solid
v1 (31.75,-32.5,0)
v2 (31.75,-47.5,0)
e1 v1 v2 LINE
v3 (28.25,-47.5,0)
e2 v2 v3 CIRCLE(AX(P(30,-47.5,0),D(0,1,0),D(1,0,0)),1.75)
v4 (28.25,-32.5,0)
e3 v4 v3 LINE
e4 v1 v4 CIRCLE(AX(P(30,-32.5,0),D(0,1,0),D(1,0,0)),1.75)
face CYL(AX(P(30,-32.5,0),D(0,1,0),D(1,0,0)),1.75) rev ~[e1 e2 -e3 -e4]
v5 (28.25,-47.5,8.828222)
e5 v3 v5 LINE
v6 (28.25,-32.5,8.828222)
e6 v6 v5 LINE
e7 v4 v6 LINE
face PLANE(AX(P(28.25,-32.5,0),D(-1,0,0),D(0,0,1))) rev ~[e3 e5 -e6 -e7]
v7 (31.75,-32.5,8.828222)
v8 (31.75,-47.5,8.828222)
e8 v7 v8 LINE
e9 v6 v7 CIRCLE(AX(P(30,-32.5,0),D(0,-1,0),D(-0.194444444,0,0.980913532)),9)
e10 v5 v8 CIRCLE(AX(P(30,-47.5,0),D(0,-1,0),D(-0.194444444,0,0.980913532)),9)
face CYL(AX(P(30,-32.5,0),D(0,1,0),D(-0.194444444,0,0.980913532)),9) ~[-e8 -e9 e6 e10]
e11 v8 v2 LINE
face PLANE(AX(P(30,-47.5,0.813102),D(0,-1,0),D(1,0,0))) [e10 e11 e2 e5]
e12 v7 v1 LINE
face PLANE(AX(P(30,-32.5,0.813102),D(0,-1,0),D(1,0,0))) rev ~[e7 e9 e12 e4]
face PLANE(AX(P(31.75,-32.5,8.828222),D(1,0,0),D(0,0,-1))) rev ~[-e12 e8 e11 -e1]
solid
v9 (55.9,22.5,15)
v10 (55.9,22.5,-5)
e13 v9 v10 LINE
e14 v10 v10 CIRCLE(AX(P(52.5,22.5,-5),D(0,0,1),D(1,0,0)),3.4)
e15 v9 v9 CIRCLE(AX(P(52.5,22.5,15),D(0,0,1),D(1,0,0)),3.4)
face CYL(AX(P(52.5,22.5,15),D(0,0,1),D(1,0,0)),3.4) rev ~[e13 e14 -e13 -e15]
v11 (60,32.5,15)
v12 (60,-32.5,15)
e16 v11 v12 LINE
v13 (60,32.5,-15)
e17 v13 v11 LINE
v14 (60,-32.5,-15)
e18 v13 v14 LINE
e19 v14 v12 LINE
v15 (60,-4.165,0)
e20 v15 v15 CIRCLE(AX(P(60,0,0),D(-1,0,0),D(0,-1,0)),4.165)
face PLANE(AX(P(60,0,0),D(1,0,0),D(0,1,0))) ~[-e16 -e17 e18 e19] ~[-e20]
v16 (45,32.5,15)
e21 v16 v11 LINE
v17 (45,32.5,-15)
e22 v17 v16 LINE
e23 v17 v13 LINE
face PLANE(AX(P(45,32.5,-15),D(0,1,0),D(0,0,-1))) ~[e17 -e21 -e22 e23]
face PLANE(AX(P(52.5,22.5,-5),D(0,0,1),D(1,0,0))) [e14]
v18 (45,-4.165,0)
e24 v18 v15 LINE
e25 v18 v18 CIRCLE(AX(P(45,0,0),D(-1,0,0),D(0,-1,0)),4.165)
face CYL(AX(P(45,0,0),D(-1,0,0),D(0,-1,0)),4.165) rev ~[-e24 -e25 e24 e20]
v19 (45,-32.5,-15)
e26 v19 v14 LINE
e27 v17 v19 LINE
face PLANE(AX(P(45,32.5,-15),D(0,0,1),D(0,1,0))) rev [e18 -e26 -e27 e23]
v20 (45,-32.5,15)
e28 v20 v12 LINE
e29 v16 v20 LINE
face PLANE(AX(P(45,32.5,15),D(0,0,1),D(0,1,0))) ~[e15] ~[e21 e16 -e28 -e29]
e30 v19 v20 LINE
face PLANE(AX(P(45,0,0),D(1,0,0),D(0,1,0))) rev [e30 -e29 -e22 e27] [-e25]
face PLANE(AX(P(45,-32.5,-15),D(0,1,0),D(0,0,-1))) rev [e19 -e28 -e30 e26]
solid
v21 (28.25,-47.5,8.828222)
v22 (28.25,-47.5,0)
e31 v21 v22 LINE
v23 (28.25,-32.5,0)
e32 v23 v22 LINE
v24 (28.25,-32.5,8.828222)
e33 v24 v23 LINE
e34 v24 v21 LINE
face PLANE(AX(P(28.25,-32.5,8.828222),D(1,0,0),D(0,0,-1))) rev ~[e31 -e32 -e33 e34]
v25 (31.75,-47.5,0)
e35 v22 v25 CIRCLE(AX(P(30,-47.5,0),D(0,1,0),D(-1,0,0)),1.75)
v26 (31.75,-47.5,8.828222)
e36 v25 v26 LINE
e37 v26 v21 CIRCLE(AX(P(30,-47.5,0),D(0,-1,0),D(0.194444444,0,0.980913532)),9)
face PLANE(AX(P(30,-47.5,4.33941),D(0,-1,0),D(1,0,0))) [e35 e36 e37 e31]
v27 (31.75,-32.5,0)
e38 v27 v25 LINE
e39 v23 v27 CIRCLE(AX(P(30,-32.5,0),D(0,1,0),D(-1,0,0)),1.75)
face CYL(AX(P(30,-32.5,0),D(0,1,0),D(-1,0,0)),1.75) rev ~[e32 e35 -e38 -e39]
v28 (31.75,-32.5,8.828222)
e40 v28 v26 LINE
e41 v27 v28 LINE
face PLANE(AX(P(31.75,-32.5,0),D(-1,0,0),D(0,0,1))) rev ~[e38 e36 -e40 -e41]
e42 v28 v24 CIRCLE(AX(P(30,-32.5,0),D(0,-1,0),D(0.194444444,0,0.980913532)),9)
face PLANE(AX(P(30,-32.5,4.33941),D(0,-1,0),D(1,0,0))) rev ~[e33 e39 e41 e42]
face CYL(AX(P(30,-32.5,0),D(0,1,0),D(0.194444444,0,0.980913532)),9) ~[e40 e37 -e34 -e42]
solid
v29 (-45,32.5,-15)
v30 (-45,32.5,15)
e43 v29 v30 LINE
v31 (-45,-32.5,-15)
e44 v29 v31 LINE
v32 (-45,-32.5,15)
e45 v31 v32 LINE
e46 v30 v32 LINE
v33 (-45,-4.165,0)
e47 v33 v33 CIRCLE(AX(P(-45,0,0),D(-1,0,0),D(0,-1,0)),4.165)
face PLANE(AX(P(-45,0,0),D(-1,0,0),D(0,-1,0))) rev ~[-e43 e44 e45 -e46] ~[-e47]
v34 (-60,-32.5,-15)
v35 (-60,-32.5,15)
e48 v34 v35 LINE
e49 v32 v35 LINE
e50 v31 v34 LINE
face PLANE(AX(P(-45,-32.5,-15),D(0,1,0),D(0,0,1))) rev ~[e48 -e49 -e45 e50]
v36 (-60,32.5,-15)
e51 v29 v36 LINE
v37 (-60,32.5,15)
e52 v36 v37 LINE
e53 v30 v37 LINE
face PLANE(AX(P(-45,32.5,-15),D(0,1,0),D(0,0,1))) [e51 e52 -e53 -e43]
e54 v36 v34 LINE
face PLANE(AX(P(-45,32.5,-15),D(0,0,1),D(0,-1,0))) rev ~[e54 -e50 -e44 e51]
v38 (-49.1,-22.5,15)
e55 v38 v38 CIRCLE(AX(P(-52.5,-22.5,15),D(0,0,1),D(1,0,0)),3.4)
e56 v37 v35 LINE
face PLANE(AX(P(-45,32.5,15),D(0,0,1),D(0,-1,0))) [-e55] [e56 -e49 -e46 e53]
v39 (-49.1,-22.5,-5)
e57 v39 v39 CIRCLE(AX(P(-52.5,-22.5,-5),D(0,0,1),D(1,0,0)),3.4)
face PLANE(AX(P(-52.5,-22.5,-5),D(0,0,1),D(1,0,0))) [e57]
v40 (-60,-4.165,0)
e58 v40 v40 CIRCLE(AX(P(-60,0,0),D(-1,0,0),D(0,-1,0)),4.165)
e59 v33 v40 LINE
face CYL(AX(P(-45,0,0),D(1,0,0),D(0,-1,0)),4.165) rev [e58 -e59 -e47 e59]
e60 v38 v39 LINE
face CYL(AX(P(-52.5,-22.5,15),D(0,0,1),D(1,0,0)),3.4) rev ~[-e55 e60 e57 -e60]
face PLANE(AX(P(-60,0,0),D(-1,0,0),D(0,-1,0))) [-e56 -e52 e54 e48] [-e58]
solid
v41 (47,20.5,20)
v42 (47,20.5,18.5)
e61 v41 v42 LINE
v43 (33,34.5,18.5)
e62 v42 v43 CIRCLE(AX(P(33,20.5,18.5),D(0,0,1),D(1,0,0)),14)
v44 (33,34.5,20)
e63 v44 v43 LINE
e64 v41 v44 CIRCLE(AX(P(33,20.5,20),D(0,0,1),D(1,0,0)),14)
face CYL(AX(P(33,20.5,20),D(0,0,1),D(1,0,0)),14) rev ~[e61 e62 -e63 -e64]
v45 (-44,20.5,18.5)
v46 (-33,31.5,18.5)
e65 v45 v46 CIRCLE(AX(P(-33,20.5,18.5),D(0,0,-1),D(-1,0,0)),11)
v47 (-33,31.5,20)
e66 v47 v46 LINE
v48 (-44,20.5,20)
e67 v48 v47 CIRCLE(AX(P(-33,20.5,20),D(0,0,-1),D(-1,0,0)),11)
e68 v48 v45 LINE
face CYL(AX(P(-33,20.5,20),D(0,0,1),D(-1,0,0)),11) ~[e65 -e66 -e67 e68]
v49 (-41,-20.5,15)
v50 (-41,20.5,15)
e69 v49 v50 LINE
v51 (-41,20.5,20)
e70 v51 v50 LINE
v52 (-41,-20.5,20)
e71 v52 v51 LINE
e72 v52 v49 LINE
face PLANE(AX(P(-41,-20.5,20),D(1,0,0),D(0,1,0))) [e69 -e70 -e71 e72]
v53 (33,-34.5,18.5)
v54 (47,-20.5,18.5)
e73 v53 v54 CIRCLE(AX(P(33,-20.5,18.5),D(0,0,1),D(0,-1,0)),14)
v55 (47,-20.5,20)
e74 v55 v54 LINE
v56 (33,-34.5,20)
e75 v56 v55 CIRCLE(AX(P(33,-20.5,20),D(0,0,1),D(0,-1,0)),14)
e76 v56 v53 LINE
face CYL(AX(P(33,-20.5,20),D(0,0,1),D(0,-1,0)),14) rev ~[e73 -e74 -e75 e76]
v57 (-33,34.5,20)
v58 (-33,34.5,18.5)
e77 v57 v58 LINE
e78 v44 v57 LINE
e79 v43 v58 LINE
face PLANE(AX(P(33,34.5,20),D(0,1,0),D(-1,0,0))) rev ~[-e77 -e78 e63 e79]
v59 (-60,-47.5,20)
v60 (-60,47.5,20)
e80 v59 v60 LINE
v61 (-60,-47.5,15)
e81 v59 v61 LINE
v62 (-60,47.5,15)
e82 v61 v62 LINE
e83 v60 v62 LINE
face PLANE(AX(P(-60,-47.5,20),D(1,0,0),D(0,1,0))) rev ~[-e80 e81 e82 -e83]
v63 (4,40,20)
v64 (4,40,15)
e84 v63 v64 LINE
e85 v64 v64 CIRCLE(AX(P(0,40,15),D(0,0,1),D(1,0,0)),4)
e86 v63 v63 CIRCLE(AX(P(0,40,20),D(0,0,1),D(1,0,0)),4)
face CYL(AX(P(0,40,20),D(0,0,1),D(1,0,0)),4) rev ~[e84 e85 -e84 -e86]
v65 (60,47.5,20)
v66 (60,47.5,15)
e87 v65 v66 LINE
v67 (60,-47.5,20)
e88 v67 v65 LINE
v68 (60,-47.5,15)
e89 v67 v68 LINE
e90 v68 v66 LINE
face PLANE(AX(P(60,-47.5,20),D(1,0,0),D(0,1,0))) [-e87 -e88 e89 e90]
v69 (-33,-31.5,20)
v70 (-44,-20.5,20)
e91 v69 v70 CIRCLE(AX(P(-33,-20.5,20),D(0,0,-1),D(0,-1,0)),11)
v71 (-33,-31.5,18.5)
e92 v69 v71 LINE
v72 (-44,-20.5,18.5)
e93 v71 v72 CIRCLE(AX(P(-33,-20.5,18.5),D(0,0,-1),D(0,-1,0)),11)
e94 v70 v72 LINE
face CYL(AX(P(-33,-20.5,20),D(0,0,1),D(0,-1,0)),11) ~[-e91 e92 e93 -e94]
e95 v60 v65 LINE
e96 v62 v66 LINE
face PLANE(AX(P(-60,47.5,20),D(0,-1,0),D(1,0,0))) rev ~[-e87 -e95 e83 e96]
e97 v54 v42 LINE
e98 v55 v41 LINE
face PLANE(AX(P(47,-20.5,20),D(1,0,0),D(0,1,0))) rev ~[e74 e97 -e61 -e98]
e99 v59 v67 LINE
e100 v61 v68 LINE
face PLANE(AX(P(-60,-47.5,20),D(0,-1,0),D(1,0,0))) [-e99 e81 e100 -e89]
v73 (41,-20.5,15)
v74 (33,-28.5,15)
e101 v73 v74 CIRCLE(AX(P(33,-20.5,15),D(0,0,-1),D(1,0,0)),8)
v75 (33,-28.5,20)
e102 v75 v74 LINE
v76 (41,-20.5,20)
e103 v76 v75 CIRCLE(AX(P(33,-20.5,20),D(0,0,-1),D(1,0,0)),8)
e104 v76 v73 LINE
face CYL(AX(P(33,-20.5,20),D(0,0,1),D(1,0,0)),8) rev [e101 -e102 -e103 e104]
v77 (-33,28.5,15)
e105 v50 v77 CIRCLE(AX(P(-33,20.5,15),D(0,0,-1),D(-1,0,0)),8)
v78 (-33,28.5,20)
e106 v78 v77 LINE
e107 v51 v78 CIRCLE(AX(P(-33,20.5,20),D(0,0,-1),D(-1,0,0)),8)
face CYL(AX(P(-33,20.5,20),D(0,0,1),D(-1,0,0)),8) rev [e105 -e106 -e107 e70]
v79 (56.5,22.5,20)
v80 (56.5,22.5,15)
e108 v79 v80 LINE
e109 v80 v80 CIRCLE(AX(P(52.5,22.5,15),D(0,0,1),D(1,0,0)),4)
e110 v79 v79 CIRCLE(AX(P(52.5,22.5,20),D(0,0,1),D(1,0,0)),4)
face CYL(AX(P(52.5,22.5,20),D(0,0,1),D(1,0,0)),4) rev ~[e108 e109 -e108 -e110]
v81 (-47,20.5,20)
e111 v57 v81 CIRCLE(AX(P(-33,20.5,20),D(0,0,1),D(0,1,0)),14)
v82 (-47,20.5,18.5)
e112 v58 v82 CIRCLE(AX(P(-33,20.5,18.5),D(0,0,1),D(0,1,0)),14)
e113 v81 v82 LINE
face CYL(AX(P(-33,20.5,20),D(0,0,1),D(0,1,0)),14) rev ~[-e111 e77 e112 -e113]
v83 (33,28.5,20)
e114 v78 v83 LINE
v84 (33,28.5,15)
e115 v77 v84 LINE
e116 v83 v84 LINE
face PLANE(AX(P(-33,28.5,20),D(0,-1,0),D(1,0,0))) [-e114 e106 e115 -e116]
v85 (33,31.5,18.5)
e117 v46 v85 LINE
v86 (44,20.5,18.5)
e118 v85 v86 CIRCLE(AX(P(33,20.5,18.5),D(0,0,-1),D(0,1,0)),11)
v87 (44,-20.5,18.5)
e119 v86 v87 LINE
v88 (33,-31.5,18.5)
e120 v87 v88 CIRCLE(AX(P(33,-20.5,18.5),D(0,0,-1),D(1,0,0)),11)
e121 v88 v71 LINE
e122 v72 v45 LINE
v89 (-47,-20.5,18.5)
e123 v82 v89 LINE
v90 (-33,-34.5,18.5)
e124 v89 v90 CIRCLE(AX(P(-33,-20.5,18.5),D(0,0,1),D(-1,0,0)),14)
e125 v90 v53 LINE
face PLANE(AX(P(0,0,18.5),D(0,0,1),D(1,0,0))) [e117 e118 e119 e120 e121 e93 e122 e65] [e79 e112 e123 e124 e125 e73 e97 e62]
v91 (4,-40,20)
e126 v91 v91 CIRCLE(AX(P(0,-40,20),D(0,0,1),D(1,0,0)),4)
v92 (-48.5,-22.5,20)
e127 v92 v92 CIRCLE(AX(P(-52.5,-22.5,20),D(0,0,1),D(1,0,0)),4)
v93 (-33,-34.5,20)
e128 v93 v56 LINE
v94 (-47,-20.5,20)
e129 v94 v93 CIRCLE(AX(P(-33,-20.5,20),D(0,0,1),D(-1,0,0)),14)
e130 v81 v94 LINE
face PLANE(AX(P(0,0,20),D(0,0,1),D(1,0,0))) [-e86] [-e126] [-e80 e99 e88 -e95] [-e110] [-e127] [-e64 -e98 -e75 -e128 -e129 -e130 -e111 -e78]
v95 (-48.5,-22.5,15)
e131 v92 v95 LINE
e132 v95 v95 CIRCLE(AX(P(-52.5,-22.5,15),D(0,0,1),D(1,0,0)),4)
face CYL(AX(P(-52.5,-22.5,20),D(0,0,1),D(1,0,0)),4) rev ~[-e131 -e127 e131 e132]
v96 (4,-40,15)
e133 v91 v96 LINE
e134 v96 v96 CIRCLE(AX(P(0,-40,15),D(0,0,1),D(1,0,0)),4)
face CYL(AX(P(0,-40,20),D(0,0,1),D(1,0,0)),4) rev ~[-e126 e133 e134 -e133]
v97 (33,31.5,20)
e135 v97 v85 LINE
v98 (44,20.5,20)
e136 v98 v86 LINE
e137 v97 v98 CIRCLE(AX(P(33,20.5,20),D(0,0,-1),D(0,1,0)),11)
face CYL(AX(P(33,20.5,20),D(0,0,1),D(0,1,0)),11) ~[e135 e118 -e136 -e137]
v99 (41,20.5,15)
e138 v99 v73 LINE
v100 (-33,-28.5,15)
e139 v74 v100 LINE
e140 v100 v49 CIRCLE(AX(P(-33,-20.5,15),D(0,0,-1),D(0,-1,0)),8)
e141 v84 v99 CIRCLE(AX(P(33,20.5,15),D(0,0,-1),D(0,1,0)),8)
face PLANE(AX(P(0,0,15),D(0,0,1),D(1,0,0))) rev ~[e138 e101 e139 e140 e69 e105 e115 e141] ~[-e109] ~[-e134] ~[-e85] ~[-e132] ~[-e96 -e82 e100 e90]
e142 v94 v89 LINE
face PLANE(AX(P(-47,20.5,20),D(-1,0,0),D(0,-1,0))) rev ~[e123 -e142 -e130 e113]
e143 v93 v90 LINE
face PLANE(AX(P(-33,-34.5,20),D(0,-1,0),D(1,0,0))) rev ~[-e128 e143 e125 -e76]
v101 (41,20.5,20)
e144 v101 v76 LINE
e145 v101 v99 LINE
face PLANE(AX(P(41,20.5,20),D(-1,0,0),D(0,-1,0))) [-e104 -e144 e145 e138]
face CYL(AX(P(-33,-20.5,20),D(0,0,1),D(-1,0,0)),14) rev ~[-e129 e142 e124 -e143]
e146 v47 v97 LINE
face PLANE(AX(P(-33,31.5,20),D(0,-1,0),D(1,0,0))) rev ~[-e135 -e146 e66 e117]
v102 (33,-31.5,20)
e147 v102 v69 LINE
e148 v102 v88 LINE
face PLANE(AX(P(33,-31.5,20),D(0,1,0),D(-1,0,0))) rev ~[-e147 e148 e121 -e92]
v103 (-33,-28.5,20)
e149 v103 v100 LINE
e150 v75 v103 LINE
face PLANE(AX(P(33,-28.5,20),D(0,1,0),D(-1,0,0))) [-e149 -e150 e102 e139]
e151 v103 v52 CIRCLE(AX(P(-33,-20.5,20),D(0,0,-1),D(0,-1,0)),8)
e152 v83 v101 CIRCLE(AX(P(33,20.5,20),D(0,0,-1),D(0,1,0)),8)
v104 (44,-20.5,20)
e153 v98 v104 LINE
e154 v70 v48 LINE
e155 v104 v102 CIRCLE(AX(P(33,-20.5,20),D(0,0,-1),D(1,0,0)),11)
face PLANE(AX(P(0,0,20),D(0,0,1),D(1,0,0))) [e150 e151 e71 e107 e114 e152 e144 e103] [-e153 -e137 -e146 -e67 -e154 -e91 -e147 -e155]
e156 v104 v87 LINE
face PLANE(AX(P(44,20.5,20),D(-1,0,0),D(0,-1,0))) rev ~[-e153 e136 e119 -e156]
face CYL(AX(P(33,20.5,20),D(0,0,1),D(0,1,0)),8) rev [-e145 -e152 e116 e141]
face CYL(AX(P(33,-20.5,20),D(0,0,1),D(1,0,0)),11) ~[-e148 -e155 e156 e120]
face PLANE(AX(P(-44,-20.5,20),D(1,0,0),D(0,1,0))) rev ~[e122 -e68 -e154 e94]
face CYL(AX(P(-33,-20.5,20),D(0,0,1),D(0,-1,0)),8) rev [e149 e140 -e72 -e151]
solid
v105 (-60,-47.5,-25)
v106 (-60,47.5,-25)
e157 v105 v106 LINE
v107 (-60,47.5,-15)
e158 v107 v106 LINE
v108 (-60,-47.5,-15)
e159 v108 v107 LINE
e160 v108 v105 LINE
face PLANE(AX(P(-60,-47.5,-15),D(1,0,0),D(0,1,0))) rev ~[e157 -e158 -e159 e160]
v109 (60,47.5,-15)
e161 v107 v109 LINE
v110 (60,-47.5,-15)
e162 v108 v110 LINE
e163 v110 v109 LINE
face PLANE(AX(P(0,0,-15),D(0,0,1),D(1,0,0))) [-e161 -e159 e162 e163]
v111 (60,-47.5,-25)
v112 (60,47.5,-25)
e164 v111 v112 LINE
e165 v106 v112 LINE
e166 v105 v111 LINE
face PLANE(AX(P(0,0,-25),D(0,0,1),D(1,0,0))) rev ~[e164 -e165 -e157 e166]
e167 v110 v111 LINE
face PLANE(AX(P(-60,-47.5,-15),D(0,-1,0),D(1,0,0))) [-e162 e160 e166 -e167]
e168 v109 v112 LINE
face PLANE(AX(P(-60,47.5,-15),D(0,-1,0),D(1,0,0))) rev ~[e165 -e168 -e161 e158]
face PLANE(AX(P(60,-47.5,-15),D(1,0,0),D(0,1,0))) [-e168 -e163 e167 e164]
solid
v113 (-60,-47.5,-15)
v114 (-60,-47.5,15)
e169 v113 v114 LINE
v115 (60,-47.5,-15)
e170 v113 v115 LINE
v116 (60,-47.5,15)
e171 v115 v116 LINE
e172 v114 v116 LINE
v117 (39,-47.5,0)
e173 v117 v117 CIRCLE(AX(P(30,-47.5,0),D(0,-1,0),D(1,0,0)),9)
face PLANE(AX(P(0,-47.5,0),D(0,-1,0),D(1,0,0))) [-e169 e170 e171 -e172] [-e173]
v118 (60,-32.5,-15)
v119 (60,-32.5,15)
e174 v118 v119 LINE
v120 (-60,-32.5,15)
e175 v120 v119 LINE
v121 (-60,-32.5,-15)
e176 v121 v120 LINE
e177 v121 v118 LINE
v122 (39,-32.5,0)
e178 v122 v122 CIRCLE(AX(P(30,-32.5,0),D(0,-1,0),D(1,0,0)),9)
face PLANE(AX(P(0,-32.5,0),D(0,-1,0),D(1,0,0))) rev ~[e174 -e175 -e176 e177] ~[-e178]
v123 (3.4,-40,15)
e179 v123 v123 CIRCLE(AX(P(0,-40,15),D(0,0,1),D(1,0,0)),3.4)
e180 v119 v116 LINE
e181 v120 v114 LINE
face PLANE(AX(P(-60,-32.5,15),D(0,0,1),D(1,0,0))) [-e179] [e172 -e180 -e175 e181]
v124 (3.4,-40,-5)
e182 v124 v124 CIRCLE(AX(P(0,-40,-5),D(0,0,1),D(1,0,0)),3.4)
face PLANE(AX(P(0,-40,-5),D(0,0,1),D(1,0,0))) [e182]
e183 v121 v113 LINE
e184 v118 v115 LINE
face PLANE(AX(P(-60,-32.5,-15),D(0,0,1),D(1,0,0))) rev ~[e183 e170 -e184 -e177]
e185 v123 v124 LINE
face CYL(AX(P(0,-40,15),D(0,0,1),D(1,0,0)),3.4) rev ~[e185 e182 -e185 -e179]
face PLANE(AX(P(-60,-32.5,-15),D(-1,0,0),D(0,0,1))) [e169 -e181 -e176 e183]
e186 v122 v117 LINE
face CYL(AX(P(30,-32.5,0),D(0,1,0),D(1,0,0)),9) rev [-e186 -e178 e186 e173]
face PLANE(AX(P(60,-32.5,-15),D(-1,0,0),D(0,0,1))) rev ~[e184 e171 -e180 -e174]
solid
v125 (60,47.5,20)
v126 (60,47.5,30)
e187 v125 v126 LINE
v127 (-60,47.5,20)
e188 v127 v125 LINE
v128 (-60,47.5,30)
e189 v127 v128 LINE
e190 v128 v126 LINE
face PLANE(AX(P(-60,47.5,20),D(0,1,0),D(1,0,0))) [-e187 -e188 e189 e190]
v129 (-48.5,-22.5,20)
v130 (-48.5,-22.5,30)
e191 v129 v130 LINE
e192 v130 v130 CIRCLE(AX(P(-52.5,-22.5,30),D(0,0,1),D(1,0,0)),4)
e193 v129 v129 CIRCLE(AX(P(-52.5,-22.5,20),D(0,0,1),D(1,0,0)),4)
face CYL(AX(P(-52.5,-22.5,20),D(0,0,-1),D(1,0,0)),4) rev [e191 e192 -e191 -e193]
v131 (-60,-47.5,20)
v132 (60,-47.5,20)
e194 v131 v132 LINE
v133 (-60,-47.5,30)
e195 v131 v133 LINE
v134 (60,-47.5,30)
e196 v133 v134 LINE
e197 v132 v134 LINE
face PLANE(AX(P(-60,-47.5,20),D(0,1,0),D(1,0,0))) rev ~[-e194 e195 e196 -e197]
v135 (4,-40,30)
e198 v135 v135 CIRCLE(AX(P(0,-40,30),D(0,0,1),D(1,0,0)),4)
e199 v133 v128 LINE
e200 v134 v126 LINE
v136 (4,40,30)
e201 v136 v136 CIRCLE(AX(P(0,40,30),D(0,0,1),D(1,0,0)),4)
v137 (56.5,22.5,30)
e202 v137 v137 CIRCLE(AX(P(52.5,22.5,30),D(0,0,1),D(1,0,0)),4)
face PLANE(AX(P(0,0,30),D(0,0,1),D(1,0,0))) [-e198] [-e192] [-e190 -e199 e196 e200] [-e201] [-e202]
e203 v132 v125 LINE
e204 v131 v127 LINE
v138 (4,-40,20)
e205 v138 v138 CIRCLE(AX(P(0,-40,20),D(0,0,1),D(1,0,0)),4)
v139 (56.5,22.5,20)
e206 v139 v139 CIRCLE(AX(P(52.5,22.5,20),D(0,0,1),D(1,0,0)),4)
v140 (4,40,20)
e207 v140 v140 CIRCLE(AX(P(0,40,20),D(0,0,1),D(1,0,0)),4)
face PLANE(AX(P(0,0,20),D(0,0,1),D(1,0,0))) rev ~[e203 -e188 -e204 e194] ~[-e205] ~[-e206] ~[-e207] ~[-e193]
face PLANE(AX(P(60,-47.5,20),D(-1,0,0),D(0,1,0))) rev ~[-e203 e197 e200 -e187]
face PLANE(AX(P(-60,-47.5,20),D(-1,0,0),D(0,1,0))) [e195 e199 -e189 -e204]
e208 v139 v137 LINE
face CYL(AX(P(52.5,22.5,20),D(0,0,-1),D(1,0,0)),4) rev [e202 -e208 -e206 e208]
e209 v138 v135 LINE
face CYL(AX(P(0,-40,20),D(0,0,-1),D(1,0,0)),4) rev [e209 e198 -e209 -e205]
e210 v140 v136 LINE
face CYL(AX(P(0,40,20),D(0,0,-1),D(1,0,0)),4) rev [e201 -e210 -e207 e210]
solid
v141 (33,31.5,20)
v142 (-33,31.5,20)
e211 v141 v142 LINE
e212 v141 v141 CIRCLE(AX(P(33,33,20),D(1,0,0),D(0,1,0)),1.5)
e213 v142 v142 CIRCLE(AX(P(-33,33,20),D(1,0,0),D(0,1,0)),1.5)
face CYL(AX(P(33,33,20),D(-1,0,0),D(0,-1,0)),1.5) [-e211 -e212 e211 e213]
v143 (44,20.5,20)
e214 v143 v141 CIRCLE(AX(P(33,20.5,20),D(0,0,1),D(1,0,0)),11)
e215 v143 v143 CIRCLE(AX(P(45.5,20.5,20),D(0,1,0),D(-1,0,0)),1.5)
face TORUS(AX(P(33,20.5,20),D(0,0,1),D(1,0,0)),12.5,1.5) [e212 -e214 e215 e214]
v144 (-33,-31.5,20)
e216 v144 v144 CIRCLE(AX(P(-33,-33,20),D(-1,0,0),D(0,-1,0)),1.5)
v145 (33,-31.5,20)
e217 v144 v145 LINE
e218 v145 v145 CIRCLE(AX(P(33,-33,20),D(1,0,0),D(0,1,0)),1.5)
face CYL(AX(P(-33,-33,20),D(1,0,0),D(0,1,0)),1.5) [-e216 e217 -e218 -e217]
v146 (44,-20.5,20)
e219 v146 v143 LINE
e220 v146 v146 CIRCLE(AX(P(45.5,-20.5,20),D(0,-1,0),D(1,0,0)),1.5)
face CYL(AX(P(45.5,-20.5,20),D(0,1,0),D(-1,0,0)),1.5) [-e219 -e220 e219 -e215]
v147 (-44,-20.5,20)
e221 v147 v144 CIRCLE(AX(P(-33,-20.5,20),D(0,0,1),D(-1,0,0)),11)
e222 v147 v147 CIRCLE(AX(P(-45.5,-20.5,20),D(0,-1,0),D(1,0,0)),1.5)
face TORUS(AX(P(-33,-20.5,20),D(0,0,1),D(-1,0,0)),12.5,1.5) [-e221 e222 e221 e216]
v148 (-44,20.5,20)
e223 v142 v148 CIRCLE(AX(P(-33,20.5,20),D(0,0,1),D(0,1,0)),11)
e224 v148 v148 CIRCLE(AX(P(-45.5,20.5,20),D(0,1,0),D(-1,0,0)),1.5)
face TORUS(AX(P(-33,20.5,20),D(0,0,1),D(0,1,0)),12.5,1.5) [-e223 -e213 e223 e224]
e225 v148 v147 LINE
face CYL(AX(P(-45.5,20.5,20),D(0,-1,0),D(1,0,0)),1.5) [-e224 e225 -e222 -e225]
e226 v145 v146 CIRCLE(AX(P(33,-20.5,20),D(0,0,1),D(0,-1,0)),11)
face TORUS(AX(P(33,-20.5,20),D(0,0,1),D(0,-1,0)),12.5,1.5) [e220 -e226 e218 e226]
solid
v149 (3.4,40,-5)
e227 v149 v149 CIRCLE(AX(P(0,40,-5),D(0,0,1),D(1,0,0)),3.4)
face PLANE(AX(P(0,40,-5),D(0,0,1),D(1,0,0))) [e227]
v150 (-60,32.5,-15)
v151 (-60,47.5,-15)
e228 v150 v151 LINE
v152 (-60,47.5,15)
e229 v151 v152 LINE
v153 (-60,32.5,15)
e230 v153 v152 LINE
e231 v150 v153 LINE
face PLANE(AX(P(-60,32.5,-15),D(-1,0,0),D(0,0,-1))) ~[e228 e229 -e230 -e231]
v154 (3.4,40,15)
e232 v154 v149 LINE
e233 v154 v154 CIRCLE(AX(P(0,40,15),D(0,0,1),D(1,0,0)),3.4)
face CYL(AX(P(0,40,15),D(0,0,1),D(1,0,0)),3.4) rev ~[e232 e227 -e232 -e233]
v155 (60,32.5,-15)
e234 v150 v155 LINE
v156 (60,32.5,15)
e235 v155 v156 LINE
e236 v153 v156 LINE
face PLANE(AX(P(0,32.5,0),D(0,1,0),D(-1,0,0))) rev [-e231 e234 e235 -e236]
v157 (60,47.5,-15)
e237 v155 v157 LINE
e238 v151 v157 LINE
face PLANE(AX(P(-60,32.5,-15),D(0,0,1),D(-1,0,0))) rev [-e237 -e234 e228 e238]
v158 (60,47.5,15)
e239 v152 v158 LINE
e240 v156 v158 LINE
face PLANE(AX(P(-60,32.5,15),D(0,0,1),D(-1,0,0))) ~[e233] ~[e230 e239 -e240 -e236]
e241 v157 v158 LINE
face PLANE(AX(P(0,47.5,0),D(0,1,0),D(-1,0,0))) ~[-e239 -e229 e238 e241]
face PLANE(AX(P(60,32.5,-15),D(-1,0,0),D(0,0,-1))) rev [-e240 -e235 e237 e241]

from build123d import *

# Parameters (mm, degrees)
F9_W      = 120
F9_H      = 95
F10_DEPTH = 10
F11_W     = 65
F11_H     = 30
F11_R     = 4.165
F12_DEPTH = 15
F6_W      = 120
F6_H      = 30
F6_R      = 9
F14_DEPTH = 15
F16_R     = 3.4
F17_DEPTH = 20
F18_R     = 3.4
F19_DEPTH = 20
F20_R     = 3.4
F21_DEPTH = 20
F22_R     = 3.4
F23_DEPTH = 20
F24_R     = 9
F25_DEPTH = 15
F26_W     = 120
F26_H     = 95
F27_DEPTH = 5
F29_DEPTH = 1.5
F30_R     = 4
F31_DEPTH = 5
F32_W     = 120
F32_H     = 95
F32_R     = 4
F33_DEPTH = 10
F36_DEPTH = 15
F38_DEPTH = 15
F40_R     = 1.5


with BuildPart() as f10:
    # F9 (on offset) → F10 (new body)
    with BuildSketch(Plane.XY.offset(-15)):
        Rectangle(F9_W, F9_H)
    extrude(amount=-F10_DEPTH)


with BuildPart() as f12:
    # F11 (on line) → F12 (new body)
    with BuildSketch(Plane(origin=(-45, 0, 0), x_dir=(0, -1, 0), z_dir=(-1, 0, 0))):
        Rectangle(F11_W, F11_H)
        Circle(F11_R, mode=Mode.SUBTRACT)
    extrude(amount=F12_DEPTH)


with BuildPart() as f13_1:
    # F13: instance of F12
    add(f12.part.mirror(Plane.YZ))

    # F20 (on offset) → F21 (cut)
    with BuildSketch(Plane.XY.offset(15)):
        with Locations((52.5, 22.5)):
            Circle(F20_R)
    extrude(amount=-F21_DEPTH, mode=Mode.SUBTRACT)


with BuildPart() as f14:
    # F6 (on offset) → F14 (new body)
    with BuildSketch(Plane.XZ.offset(32.5)):
        Rectangle(F6_W, F6_H)
        with Locations((30, 0)):
            Circle(F6_R, mode=Mode.SUBTRACT)
        with Locations((30, 0)):
            Circle(F6_R)
    extrude(amount=F14_DEPTH)


with BuildPart() as f15_1:
    # F15: instance of F14
    add(f14.part.mirror(Plane.XZ))

    # F22 (on offset) → F23 (cut)
    with BuildSketch(Plane.XY.offset(15)):
        with Locations((0, 40)):
            Circle(F22_R)
    extrude(amount=-F23_DEPTH, mode=Mode.SUBTRACT)


with BuildPart() as f12_1:
    add(f12.part)

    # F16 (on offset) → F17 (cut)
    with BuildSketch(Plane.XY.offset(15)):
        with Locations((-52.5, -22.5)):
            Circle(F16_R)
    extrude(amount=-F17_DEPTH, mode=Mode.SUBTRACT)


with BuildPart() as f14_1:
    add(f14.part)

    # F18 (on offset) → F19 (cut)
    with BuildSketch(Plane.XY.offset(15)):
        with Locations((0, -40)):
            Circle(F18_R)
    extrude(amount=-F19_DEPTH, mode=Mode.SUBTRACT)

    # F24 (on offset) → F25 (cut)
    with BuildSketch(Plane.XZ.offset(32.5)):
        with Locations((30, 0)):
            Circle(F24_R)
    extrude(amount=F25_DEPTH, mode=Mode.SUBTRACT)


with BuildPart() as f27:
    # F26 (on offset) → F27 (new body)
    with BuildSketch(Plane.XY.offset(20)):
        Rectangle(F26_W, F26_H)
        with BuildLine():
            ThreePointArc((-41, 20.5), (-38.6568542495, 26.1568542495), (-33, 28.5))
            Line((-33, 28.5), (33, 28.5))
            ThreePointArc((33, 28.5), (38.6568542495, 26.1568542495), (41, 20.5))
            Line((41, 20.5), (41, -20.5))
            ThreePointArc((41, -20.5), (38.6568542495, -26.1568542495), (33, -28.5))
            Line((33, -28.5), (-33, -28.5))
            ThreePointArc((-33, -28.5), (-38.6568542495, -26.1568542495), (-41, -20.5))
            Line((-41, -20.5), (-41, 20.5))
        make_face(mode=Mode.SUBTRACT)
    extrude(amount=-F27_DEPTH)

    # F28 (on offset) → F29 (cut)
    with BuildSketch(Plane.XY.offset(20)):
        with BuildLine():
            Line((33, 34.5), (-33, 34.5))
            ThreePointArc((-33, 34.5), (-42.8994949366, 30.3994949366), (-47, 20.5))
            Line((-47, 20.5), (-47, -20.5))
            ThreePointArc((-47, -20.5), (-42.8994949366, -30.3994949366), (-33, -34.5))
            Line((-33, -34.5), (33, -34.5))
            ThreePointArc((33, -34.5), (42.8994949366, -30.3994949366), (47, -20.5))
            Line((47, -20.5), (47, 20.5))
            ThreePointArc((47, 20.5), (42.8994949366, 30.3994949366), (33, 34.5))
        make_face()
        with BuildLine():
            ThreePointArc((-44, 20.5), (-40.7781745931, 28.2781745931), (-33, 31.5))
            Line((-33, 31.5), (33, 31.5))
            ThreePointArc((33, 31.5), (40.7781745931, 28.2781745931), (44, 20.5))
            Line((44, 20.5), (44, -20.5))
            ThreePointArc((44, -20.5), (40.7781745931, -28.2781745931), (33, -31.5))
            Line((33, -31.5), (-33, -31.5))
            ThreePointArc((-33, -31.5), (-40.7781745931, -28.2781745931), (-44, -20.5))
            Line((-44, -20.5), (-44, 20.5))
        make_face(mode=Mode.SUBTRACT)
    extrude(amount=-F29_DEPTH, mode=Mode.SUBTRACT)

    # F30 (on offset) → F31 (cut)
    with BuildSketch(Plane.XY.offset(20)):
        with Locations((-52.5, -22.5)):
            Circle(F30_R)
        with Locations((0, -40)):
            Circle(F30_R)
        with Locations((52.5, 22.5)):
            Circle(F30_R)
        with Locations((0, 40)):
            Circle(F30_R)
    extrude(amount=-F31_DEPTH, mode=Mode.SUBTRACT)


with BuildPart() as f33:
    # F32 (on offset) → F33 (new body)
    with BuildSketch(Plane.XY.offset(20)):
        Rectangle(F32_W, F32_H)
        with Locations((-52.5, -22.5)):
            Circle(F32_R, mode=Mode.SUBTRACT)
        with Locations((0, -40)):
            Circle(F32_R, mode=Mode.SUBTRACT)
        with Locations((52.5, 22.5)):
            Circle(F32_R, mode=Mode.SUBTRACT)
        with Locations((0, 40)):
            Circle(F32_R, mode=Mode.SUBTRACT)
    extrude(amount=F33_DEPTH)


with BuildPart() as f36:
    # F35 (on offset) → F36 (new body)
    with BuildSketch(Plane.XZ.offset(32.5)):
        with BuildLine():
            Line((28.25, 0), (28.25, 8.8282217915))
            ThreePointArc((28.25, 8.8282217915), (30, -9), (31.75, 8.8282217915))
            Line((31.75, 8.8282217915), (31.75, 0))
            ThreePointArc((31.75, 0), (30, -1.75), (28.25, 0))
        make_face()
    extrude(amount=F36_DEPTH)


with BuildPart() as f38:
    # F37 (on offset) → F38 (new body)
    with BuildSketch(Plane.XZ.offset(32.5)):
        with BuildLine():
            Line((31.75, 0), (31.75, 8.8282217915))
            ThreePointArc((31.75, 8.8282217915), (30, 9), (28.25, 8.8282217915))
            Line((28.25, 8.8282217915), (28.25, 0))
            ThreePointArc((28.25, 0), (30, 1.75), (31.75, 0))
        make_face()
    extrude(amount=F38_DEPTH)


with BuildPart() as f41:
    # F41: sweep along a path in F39
    with BuildLine(Plane.XY.offset(20)) as f41_path:
        ThreePointArc((-33, 33), (-41.8388347648, 29.3388347648), (-45.5, 20.5))
        Line((-45.5, 20.5), (-45.5, 0))
        Line((-45.5, 0), (-45.5, -20.5))
        ThreePointArc((-45.5, -20.5), (-41.8388347648, -29.3388347648), (-33, -33))
        Line((-33, -33), (33, -33))
        ThreePointArc((33, -33), (41.8388347648, -29.3388347648), (45.5, -20.5))
        Line((45.5, -20.5), (45.5, 20.5))
        ThreePointArc((45.5, 20.5), (41.8388347648, 29.3388347648), (33, 33))
        Line((33, 33), (-33, 33))
    # F40 (on Front) → F41 (sweep)
    with BuildSketch(Plane.XZ):
        with Locations((-45.5, 20)):
            Circle(F40_R)
    sweep(path=f41_path.line)


solid = Compound([f10.part, f13_1.part, f15_1.part, f12_1.part, f14_1.part, f27.part, f33.part, f36.part, f38.part, f41.part])
